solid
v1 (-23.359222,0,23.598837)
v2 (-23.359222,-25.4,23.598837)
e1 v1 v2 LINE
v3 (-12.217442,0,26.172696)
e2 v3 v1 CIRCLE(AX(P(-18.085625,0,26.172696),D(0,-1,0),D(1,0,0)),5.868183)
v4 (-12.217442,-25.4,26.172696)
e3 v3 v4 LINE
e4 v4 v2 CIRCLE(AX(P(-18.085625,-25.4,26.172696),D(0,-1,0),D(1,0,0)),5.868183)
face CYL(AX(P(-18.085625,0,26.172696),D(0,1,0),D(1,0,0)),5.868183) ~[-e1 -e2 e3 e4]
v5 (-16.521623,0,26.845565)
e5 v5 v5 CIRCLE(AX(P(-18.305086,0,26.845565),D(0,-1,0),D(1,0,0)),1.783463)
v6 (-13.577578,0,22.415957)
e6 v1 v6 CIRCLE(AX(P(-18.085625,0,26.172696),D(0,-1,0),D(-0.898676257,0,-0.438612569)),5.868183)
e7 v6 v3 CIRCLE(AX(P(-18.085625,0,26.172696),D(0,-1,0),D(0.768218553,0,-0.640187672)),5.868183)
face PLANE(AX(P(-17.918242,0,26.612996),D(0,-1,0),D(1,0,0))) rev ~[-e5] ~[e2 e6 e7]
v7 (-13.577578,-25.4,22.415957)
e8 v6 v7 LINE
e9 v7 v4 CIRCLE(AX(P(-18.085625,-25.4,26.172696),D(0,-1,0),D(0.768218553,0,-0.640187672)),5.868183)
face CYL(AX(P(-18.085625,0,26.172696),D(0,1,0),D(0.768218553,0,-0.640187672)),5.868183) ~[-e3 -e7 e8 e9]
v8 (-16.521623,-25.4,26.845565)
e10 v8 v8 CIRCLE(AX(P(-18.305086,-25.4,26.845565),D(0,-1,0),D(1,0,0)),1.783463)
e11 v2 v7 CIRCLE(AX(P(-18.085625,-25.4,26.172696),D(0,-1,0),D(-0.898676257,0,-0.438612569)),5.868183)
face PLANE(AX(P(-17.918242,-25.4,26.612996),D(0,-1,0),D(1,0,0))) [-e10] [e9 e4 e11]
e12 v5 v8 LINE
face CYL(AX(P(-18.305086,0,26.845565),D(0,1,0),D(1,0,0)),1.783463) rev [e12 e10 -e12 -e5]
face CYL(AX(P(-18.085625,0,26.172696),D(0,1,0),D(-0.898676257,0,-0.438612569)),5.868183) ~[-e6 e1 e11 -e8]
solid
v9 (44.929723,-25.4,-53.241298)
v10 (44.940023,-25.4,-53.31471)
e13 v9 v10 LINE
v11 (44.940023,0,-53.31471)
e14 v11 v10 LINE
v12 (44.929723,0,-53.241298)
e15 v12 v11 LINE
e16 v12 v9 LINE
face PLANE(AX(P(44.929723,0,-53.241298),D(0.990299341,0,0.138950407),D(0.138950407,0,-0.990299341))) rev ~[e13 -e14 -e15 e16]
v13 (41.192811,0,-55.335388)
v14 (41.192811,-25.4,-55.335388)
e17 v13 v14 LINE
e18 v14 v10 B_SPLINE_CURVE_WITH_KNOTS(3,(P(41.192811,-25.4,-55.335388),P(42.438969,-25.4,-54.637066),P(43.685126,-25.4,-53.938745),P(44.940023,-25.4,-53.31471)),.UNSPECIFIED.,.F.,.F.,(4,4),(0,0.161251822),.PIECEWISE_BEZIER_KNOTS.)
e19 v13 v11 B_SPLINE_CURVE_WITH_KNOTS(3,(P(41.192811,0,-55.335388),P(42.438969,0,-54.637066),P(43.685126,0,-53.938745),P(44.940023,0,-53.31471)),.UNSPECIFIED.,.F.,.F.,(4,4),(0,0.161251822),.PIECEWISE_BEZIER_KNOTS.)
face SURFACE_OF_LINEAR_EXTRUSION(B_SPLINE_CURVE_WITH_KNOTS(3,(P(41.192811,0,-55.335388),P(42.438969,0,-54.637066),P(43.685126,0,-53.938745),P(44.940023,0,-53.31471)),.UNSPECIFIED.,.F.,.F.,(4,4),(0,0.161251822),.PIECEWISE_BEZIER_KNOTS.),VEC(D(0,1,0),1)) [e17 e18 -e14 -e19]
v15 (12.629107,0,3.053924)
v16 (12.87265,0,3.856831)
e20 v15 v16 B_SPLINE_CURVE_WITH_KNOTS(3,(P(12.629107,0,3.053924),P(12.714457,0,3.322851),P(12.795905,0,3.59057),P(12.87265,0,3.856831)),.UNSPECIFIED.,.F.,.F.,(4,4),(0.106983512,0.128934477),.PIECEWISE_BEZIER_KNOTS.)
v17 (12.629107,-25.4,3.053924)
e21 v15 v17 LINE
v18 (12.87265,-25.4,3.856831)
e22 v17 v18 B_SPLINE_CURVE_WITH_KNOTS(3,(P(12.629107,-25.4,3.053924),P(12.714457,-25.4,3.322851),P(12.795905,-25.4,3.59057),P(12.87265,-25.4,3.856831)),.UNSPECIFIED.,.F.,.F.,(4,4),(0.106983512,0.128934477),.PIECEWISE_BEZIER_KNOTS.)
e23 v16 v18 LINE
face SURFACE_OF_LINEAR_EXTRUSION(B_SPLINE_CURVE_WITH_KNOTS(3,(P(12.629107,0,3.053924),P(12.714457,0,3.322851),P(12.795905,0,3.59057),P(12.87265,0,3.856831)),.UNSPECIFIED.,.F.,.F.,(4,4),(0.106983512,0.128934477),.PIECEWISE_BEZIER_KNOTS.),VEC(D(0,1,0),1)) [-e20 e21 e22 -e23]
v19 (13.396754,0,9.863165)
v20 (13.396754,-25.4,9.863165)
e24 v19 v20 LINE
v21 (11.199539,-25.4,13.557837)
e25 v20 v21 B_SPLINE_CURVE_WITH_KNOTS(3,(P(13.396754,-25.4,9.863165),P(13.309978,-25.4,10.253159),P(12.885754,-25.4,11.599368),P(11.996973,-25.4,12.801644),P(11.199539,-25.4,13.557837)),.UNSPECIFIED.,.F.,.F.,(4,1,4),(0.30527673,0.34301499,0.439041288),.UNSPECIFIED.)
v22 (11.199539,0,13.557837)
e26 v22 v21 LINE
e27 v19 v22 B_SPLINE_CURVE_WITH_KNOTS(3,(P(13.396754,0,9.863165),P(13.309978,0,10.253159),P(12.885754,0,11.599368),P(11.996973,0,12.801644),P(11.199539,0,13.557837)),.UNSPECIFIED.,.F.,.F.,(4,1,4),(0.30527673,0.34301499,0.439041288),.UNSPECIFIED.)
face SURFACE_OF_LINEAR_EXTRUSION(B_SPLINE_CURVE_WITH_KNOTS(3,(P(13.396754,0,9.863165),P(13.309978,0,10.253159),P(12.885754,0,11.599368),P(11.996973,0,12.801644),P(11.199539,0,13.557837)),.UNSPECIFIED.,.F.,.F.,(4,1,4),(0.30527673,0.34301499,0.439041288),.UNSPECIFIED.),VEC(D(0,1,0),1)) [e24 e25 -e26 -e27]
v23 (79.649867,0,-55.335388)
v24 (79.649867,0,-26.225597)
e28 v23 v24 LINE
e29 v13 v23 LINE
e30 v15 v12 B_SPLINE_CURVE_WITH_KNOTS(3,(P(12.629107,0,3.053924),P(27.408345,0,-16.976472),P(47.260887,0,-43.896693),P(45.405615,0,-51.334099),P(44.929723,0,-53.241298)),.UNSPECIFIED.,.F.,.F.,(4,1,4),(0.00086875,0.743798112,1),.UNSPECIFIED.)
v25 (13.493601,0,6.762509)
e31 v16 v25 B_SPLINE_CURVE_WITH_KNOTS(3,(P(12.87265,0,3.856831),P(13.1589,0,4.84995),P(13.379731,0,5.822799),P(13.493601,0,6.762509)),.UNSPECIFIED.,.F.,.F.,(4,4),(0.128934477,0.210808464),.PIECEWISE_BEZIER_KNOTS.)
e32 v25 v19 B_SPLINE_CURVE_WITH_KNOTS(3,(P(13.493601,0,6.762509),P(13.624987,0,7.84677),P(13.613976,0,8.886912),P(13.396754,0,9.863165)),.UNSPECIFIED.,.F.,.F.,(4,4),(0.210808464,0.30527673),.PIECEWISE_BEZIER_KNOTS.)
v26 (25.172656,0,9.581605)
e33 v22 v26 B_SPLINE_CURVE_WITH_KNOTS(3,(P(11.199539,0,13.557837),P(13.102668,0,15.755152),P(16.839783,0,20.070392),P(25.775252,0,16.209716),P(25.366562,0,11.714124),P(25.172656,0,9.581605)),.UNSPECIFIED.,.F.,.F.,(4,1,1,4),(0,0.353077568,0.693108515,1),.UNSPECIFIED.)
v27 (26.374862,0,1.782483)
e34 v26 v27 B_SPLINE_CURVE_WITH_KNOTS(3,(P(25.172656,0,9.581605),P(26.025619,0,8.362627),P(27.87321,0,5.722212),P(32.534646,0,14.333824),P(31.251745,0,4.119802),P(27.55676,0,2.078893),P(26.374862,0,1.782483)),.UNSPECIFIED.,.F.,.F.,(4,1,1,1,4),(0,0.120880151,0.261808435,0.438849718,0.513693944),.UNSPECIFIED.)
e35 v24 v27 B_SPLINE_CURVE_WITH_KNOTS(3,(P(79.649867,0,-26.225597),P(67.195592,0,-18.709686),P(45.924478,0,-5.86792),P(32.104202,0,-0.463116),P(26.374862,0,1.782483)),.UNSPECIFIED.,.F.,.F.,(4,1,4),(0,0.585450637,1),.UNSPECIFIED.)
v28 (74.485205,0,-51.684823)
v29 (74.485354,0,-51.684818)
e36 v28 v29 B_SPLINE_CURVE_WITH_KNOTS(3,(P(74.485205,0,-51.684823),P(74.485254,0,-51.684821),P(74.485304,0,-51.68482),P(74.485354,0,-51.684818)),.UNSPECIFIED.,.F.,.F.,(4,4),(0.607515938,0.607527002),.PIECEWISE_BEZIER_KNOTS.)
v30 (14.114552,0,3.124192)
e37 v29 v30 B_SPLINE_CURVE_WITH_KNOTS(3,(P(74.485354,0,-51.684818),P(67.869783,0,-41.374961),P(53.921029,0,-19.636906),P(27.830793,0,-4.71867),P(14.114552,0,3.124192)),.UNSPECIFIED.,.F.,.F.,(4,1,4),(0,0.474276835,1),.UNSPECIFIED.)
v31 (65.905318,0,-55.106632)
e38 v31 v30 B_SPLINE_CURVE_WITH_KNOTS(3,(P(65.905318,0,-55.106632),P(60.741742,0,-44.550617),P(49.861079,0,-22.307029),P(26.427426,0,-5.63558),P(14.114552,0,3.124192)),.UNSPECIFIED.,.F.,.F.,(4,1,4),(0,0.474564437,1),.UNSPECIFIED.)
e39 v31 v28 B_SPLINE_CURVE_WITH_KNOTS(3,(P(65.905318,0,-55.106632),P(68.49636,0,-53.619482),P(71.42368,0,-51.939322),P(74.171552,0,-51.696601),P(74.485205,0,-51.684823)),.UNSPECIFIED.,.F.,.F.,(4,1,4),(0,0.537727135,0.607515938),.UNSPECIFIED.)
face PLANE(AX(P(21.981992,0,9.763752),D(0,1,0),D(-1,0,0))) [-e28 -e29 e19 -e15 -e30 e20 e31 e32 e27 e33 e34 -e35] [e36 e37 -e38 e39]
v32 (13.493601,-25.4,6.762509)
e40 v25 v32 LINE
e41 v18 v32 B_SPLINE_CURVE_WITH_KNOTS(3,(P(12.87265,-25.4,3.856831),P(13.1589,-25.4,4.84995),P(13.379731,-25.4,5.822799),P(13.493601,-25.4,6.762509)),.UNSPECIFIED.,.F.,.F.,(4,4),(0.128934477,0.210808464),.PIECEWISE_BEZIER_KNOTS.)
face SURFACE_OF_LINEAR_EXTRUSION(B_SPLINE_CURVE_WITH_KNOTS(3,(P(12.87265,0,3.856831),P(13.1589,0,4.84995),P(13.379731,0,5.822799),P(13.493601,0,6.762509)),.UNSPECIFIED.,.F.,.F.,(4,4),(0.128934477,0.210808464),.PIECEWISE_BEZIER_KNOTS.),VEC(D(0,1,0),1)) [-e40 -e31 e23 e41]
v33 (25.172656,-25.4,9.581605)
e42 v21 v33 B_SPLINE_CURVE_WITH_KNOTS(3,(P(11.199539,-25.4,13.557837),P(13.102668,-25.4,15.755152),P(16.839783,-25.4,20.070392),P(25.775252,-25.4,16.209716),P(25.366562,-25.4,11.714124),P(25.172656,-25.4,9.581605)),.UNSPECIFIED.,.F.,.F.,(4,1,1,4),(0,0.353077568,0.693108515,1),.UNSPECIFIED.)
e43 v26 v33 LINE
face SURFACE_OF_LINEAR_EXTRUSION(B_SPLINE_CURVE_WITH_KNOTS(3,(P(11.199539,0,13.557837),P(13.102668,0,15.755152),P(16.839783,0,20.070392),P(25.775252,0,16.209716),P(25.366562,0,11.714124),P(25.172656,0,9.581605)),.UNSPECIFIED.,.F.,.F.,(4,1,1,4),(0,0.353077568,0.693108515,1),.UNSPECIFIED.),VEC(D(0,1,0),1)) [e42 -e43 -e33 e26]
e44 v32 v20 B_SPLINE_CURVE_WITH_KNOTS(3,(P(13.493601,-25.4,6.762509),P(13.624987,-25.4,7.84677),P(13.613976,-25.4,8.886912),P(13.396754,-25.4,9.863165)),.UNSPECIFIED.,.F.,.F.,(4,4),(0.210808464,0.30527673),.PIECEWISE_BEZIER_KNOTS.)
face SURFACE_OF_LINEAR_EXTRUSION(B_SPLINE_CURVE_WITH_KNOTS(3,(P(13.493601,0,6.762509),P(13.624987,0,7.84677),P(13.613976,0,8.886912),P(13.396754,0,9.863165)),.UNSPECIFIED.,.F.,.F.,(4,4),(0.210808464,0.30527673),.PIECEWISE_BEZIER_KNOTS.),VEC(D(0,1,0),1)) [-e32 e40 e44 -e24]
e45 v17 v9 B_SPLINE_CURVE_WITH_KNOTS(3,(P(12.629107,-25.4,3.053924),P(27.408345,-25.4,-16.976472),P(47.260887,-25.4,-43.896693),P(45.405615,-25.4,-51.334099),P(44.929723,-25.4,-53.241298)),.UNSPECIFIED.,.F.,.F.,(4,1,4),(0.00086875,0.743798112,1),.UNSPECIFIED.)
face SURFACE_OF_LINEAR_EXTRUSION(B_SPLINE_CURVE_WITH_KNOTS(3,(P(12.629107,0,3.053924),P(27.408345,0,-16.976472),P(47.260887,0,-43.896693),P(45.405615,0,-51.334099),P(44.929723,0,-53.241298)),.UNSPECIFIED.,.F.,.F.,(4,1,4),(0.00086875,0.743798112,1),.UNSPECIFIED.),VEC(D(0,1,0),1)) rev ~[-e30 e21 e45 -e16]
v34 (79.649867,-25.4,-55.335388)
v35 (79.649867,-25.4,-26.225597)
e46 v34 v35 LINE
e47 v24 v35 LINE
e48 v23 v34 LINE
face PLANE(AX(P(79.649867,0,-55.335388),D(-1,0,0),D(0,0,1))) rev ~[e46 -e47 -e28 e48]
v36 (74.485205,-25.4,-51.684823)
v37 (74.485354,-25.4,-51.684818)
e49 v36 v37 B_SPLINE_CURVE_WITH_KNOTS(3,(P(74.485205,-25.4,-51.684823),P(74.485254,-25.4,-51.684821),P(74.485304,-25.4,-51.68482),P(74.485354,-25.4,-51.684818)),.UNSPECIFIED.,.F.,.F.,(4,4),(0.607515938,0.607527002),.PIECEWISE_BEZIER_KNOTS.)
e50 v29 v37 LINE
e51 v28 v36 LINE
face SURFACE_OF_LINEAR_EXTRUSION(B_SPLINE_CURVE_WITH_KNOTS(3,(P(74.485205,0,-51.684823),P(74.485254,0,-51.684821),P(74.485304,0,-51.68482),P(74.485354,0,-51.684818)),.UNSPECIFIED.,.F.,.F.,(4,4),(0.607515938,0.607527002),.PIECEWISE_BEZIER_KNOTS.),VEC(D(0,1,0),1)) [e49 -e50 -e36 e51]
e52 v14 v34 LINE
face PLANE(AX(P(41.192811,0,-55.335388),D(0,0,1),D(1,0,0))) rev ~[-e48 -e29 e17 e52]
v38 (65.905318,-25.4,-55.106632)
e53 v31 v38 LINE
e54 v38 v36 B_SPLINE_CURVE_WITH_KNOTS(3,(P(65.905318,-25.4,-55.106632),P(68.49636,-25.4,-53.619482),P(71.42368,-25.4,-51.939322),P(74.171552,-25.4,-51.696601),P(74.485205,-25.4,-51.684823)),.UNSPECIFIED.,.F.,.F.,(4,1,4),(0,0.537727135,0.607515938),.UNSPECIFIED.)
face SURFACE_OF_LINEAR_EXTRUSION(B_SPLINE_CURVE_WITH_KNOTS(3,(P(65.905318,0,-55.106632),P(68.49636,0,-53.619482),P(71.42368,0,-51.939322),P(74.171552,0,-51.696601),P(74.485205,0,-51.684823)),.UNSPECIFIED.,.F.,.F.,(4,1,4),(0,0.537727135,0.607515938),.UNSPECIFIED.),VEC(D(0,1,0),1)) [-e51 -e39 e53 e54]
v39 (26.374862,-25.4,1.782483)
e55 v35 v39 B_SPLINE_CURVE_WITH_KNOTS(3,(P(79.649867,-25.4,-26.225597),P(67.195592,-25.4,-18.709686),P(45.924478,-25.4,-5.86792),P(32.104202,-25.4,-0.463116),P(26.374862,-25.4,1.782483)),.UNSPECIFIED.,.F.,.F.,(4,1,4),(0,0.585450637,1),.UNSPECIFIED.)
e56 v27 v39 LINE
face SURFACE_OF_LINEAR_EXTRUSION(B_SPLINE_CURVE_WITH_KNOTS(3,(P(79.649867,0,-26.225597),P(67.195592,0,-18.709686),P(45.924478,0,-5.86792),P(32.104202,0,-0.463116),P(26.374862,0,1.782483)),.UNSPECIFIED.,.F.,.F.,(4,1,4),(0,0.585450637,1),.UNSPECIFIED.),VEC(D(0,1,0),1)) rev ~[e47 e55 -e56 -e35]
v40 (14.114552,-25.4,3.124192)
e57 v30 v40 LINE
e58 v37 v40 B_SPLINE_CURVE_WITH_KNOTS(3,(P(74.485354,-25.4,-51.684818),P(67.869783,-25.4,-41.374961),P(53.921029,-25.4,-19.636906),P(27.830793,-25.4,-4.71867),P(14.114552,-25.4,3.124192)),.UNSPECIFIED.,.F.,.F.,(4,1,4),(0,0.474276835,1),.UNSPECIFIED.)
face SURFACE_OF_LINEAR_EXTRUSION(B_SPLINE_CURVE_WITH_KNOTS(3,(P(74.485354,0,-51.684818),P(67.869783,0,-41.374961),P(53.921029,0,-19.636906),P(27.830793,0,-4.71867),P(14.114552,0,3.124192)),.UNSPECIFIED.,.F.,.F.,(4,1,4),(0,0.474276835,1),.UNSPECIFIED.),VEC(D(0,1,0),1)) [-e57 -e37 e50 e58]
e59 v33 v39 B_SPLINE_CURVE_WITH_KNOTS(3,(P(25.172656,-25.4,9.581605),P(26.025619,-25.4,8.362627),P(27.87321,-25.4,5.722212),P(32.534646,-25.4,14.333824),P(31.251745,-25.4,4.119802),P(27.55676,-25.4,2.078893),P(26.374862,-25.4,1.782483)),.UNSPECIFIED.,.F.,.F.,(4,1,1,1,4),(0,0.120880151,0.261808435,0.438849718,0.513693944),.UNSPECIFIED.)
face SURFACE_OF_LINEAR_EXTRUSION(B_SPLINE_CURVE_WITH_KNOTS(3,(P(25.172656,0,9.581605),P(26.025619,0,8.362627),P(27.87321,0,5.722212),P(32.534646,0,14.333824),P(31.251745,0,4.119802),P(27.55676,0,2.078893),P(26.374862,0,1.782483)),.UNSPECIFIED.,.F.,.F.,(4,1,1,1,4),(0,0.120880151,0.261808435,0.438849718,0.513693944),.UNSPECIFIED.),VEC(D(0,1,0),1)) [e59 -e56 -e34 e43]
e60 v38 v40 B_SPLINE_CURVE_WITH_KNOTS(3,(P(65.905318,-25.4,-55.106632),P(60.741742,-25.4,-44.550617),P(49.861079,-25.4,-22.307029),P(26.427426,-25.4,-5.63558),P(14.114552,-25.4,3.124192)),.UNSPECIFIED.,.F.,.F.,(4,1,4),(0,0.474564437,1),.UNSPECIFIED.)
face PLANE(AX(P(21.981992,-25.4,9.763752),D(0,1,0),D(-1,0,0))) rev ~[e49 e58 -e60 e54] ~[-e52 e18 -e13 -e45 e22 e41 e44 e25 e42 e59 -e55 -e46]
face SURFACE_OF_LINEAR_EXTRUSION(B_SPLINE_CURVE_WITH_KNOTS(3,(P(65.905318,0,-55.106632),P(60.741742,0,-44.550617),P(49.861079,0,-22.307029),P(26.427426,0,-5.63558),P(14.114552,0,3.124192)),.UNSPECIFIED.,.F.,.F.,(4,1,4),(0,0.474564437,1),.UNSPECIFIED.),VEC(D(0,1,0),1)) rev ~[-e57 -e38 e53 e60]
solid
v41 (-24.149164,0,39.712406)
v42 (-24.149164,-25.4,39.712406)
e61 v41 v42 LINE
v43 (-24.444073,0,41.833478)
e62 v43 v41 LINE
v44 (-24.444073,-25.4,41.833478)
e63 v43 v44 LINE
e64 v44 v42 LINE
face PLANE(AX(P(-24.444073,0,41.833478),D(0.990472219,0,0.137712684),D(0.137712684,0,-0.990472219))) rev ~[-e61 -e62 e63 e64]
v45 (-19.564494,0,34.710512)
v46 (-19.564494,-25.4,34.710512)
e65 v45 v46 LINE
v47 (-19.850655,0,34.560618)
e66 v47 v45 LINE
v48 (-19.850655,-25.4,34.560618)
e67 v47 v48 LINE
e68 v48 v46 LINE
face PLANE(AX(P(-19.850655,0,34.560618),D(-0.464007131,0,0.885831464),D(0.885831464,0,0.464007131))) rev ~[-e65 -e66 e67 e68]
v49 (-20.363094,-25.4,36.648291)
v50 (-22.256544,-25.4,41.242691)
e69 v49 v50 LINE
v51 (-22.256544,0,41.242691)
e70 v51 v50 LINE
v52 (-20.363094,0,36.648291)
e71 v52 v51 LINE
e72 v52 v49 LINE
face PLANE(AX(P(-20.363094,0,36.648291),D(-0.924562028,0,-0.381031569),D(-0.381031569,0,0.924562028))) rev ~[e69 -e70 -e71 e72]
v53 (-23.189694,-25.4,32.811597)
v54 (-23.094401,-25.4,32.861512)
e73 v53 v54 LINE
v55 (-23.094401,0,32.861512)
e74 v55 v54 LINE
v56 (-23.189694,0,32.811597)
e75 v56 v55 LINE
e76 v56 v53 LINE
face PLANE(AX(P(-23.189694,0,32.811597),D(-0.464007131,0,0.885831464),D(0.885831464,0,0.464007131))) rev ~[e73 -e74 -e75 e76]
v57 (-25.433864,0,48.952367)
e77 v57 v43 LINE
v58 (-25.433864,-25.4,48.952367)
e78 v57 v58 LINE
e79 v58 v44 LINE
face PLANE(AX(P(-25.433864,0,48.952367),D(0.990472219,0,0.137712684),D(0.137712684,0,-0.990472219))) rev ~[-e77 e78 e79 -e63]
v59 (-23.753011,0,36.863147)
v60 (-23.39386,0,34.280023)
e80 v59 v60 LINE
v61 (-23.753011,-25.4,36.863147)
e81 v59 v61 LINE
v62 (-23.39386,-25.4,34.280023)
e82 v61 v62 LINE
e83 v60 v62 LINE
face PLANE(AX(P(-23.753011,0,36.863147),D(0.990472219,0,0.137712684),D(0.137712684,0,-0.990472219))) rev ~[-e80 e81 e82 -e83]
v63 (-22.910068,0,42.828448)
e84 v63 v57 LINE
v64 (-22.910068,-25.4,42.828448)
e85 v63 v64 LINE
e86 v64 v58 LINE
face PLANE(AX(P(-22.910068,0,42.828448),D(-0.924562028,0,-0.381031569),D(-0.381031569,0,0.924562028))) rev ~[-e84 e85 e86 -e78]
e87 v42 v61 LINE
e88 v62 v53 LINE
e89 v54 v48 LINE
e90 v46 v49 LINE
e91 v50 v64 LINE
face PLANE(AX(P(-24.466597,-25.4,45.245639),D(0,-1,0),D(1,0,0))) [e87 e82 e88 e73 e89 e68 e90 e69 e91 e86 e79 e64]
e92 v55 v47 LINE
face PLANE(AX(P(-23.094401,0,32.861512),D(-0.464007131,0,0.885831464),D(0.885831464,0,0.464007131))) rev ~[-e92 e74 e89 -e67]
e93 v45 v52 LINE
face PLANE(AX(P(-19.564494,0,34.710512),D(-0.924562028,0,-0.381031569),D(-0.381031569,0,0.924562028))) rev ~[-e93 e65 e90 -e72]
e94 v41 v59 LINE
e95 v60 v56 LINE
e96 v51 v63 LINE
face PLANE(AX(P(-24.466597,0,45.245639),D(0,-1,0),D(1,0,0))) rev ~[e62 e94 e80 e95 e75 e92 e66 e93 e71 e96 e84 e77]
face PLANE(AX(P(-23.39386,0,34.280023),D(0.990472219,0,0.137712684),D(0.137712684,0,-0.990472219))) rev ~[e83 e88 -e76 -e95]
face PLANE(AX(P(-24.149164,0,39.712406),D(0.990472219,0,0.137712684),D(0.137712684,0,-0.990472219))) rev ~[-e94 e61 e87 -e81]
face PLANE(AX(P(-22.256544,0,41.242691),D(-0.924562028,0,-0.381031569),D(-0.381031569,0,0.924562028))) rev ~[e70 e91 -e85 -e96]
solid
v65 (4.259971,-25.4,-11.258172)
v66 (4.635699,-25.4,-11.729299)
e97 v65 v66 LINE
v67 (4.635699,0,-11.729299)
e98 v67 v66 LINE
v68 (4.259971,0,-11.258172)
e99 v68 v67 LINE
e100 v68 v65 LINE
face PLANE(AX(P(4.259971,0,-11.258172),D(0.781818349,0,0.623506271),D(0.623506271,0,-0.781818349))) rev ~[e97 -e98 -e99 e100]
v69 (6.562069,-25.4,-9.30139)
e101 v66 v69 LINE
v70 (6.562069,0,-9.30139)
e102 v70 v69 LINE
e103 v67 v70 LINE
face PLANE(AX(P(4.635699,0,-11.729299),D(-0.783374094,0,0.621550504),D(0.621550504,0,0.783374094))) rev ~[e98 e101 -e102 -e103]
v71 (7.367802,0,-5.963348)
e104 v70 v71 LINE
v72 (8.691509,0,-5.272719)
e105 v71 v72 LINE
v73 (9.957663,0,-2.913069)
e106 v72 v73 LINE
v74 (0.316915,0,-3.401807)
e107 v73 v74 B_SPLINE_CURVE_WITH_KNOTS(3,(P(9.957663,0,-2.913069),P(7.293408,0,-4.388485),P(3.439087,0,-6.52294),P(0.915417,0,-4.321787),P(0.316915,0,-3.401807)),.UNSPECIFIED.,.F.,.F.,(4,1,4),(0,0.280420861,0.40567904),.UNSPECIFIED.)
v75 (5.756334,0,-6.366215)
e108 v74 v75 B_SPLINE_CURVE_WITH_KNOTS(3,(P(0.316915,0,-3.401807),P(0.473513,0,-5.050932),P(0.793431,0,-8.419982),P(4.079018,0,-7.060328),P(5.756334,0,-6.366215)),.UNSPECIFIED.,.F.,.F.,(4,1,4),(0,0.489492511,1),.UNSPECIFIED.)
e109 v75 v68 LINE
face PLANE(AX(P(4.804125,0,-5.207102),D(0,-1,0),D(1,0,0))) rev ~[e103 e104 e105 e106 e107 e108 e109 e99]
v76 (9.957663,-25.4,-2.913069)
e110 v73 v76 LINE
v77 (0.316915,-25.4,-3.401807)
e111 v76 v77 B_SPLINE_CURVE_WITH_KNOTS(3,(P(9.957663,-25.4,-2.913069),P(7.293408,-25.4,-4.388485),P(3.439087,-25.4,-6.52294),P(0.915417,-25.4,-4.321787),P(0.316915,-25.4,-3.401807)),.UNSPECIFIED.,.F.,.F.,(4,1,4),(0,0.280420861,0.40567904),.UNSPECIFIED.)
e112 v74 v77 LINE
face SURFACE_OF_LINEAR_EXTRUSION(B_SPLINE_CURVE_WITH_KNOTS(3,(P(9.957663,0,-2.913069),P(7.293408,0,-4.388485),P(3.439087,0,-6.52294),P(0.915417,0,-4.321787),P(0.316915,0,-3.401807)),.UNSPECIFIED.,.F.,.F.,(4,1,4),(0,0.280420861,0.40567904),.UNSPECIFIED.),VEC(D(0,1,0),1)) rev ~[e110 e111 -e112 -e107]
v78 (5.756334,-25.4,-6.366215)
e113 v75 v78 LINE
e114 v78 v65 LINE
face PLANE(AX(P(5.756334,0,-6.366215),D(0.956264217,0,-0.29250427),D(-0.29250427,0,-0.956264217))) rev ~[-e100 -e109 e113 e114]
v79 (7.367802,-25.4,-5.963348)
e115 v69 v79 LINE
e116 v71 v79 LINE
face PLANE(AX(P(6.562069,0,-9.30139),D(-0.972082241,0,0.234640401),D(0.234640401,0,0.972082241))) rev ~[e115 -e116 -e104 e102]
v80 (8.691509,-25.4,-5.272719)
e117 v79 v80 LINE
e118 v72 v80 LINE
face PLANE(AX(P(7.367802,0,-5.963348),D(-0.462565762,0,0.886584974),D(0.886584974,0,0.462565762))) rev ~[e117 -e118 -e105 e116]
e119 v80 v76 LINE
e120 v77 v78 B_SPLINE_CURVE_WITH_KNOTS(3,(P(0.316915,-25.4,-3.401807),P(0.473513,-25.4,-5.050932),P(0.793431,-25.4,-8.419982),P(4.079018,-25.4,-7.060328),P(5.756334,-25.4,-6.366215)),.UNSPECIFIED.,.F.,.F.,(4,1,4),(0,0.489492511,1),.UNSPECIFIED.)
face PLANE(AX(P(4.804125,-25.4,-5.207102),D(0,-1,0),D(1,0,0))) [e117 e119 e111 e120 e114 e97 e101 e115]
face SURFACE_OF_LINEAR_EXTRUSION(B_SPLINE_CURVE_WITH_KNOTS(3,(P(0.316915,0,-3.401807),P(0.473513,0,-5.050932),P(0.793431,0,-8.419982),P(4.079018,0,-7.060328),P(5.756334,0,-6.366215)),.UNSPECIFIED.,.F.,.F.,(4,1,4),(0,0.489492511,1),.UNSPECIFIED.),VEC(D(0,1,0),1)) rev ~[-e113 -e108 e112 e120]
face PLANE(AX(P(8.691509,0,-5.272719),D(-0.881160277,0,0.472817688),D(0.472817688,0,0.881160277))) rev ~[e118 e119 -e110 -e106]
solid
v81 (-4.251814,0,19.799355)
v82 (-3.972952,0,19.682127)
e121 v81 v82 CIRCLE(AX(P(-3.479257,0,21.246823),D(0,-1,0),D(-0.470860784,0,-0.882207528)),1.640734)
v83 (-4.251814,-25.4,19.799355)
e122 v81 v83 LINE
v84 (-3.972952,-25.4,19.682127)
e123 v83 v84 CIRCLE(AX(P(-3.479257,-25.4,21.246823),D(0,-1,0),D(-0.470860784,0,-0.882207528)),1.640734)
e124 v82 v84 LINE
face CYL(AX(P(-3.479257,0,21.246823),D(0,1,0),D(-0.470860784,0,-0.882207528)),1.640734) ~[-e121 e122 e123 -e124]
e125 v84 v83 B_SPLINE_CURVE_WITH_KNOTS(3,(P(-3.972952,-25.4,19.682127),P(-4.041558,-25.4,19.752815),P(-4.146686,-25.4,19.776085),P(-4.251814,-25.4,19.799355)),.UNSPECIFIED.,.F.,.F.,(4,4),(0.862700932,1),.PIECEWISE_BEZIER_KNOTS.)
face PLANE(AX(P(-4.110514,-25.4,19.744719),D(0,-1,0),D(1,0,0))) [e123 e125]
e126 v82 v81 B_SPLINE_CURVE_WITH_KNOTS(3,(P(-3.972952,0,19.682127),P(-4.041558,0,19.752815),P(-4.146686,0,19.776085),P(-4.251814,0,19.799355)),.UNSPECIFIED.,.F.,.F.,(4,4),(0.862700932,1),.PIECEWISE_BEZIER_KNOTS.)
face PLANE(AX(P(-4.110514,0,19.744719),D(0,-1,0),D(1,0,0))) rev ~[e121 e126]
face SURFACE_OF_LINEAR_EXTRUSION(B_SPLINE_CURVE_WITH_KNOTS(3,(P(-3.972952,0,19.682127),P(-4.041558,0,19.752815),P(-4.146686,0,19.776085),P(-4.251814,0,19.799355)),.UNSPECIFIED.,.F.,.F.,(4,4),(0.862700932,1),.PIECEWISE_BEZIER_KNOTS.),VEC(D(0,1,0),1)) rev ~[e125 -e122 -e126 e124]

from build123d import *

# Parameters (mm, degrees)
F1_DEPTH = 25.4
F0_R     = 1.7834628767


with BuildPart() as f1:
    # F0 (on Front) → F1 (new body)
    with BuildSketch(Plane.XZ):
        Polygon((-22.9100676942, 42.8284476999), (-25.4338644445, 48.9523671567), (-24.4440726353, 41.833478334), align=None)
        Polygon((-22.9100676942, 42.8284476999), (-24.4440726353, 41.833478334), (-24.1491642219, 39.7124058128), (-22.2565439392, 41.242691304), align=None)
        Polygon((-22.2565439392, 41.242691304), (-24.1491642219, 39.7124058128), (-23.7530106851, 36.8631470503), (-21.2160514777, 38.7179665895), align=None)
        Polygon((-21.2160514777, 38.7179665895), (-23.7530106851, 36.8631470503), (-23.3938598176, 34.2800229301), (-20.3630941983, 36.6482905434), align=None)
        with BuildLine():
            Line((-20.3630941983, 36.6482905434), (-23.3938598176, 34.2800229301))
            Line((-23.3938598176, 34.2800229301), (-23.1896936893, 32.8115969896))
            Line((-23.1896936893, 32.8115969896), (-23.0944005255, 32.861512475))
            ThreePointArc((-23.0944005255, 32.861512475), (-21.536076112, 33.8323842773), (-19.8506553661, 34.5606177173))
            Line((-19.8506553661, 34.5606177173), (-19.5644944906, 34.7105115652))
            Line((-19.5644944906, 34.7105115652), (-20.3630941983, 36.6482905434))
        make_face()
        with BuildLine():
            ThreePointArc((-19.8506553661, 34.5606177173), (-21.536076112, 33.8323842773), (-23.0944005255, 32.861512475))
            Line((-23.0944005255, 32.861512475), (-19.8506553661, 34.5606177173))
        make_face()
    extrude(amount=F1_DEPTH)


with BuildPart() as f1b:
    # F0 (on Front) → F1, piece 2 (new body)
    with BuildSketch(Plane.XZ):
        with BuildLine():
            Line((7.3678023182, -5.9633478522), (8.6915092543, -5.2727186121))
            Line((8.6915092543, -5.2727186121), (9.9576627836, -2.9130687471))
            add(Edge.make_bspline(
                [(9.9576627836, -2.9130687471), (7.2934083331, -4.3884854622), (3.4390867087, -6.5229402058), (0.9154172603, -4.321786708), (0.3169151371, -3.4018067018)],
                knots=[0, 0, 0, 0, 0.2804208607, 0.4056790399, 0.4056790399, 0.4056790399, 0.4056790399], degree=3))
            add(Edge.make_bspline(
                [(0.3169151371, -3.4018067018), (0.4735126403, -5.0509317641), (0.7934307177, -8.4199824116), (4.079017662, -7.0603283138), (5.7563344017, -6.3662147149)],
                knots=[0, 0, 0, 0, 0.4894925113, 1, 1, 1, 1], degree=3))
            Line((5.7563344017, -6.3662147149), (7.3678023182, -5.9633478522))
        make_face()
        Polygon((6.5620685928, -9.3013895676), (7.3678023182, -5.9633478522), (5.7563344017, -6.3662147149), (4.2599714361, -11.2581718713), (4.6356988207, -11.7292987501), align=None)
    extrude(amount=F1_DEPTH)


with BuildPart() as f1c:
    # F0 (on Front) → F1, piece 3 (new body)
    with BuildSketch(Plane.XZ):
        with BuildLine():
            add(Edge.make_bspline(
                [(11.1995394877, 13.5578365372), (13.102668093, 15.7551518419), (16.8397830976, 20.0703916826), (25.7752520583, 16.2097157192), (25.3665615723, 11.7141237547), (25.172656402, 9.5816049725)],
                knots=[0, 0, 0, 0, 0.3530775685, 0.6931085154, 1, 1, 1, 1], degree=3))
            add(Edge.make_bspline(
                [(13.3967538173, 9.8631651647), (13.3099779159, 10.2531594082), (12.8857542425, 11.599367998), (11.9969733927, 12.8016439042), (11.1995394877, 13.5578365372)],
                knots=[0.3052767295, 0.3052767295, 0.3052767295, 0.3052767295, 0.3430149898, 0.4390412883, 0.4390412883, 0.4390412883, 0.4390412883], degree=3))
            add(Edge.make_bspline(
                [(26.3748617337, 1.7824834694), (24.4786632438, 1.3069342857), (19.4102807977, 2.0805751093), (16.182781783, 6.7144995217), (15.164352776, 10.8239090423), (13.8978703904, 10.1356632019), (13.3967538173, 9.8631651647)],
                knots=[0.5136939443, 0.5136939443, 0.5136939443, 0.5136939443, 0.6337715162, 0.8018048617, 0.9214431496, 1, 1, 1, 1], degree=3))
            add(Edge.make_bspline(
                [(25.172656402, 9.5816049725), (26.0256189076, 8.3626269027), (27.8732100394, 5.7222122761), (32.53464609, 14.3338237837), (31.2517450854, 4.1198016009), (27.5567602879, 2.078892783), (26.3748617337, 1.7824834694)],
                knots=[0, 0, 0, 0, 0.1208801505, 0.2618084346, 0.4388497182, 0.5136939443, 0.5136939443, 0.5136939443, 0.5136939443], degree=3))
        make_face()
        with BuildLine():
            add(Edge.make_bspline(
                [(26.3748617337, 1.7824834694), (24.4786632438, 1.3069342857), (19.4102807977, 2.0805751093), (16.182781783, 6.7144995217), (15.164352776, 10.8239090423), (13.8978703904, 10.1356632019), (13.3967538173, 9.8631651647)],
                knots=[0.5136939443, 0.5136939443, 0.5136939443, 0.5136939443, 0.6337715162, 0.8018048617, 0.9214431496, 1, 1, 1, 1], degree=3))
            add(Edge.make_bspline(
                [(13.4936010892, 6.7625090508), (13.6249872982, 7.8467701656), (13.6139755122, 8.8869124365), (13.3967538173, 9.8631651647)],
                knots=[0.2108084645, 0.2108084645, 0.2108084645, 0.2108084645, 0.3052767295, 0.3052767295, 0.3052767295, 0.3052767295], degree=3))
            add(Edge.make_bspline(
                [(23.6649847588, 0.4353575829), (20.3023370373, 2.540814331), (16.8979690633, 4.6516616909), (13.4936010892, 6.7625090508)],
                knots=[0.8849952308, 0.8849952308, 0.8849952308, 0.8849952308, 1, 1, 1, 1], degree=3))
            add(Edge.make_bspline(
                [(79.6498671174, -32.3402956128), (70.7382485823, -25.6757973438), (53.0737396883, -12.4655046811), (33.4090025187, -3.8390916864), (23.6649847588, 0.4353575829)],
                knots=[0, 0, 0, 0, 0.5044928556, 1, 1, 1, 1], degree=3))
            Line((79.6498671174, -32.3402956128), (79.6498671174, -26.2255966663))
            add(Edge.make_bspline(
                [(79.6498671174, -26.2255966663), (67.195591653, -18.7096857526), (45.9244782641, -5.8679201366), (32.1042021144, -0.4631162389), (26.3748617337, 1.7824834694)],
                knots=[0, 0, 0, 0, 0.5854506367, 1, 1, 1, 1], degree=3))
        make_face()
        with BuildLine():
            add(Edge.make_bspline(
                [(23.6649847588, 0.4353575829), (20.3023370373, 2.540814331), (16.8979690633, 4.6516616909), (13.4936010892, 6.7625090508)],
                knots=[0.8849952308, 0.8849952308, 0.8849952308, 0.8849952308, 1, 1, 1, 1], degree=3))
            add(Edge.make_bspline(
                [(12.8726503511, 3.8568314283), (13.1589002344, 4.8499495328), (13.3797309677, 5.8227989722), (13.4936010892, 6.7625090508)],
                knots=[0.1289344772, 0.1289344772, 0.1289344772, 0.1289344772, 0.2108084645, 0.2108084645, 0.2108084645, 0.2108084645], degree=3))
            Line((12.8726503511, 3.8568314283), (14.1145518273, 3.1241918572))
            add(Edge.make_bspline(
                [(74.4853538034, -51.6848177491), (67.8697829303, -41.3749614778), (53.9210289847, -19.6369057455), (27.830793174, -4.7186701674), (14.1145518273, 3.1241918572)],
                knots=[0, 0, 0, 0, 0.474276835, 1, 1, 1, 1], degree=3))
            add(Edge.make_bspline(
                [(74.4853538034, -51.6848177491), (75.2532722885, -50.5569895458), (76.7194981017, -48.4351104873), (78.7055638503, -47.4397782041), (79.6498671174, -46.9699688256)],
                knots=[0, 0, 0, 0, 0.5257876641, 1, 1, 1, 1], degree=3))
            Line((79.6498671174, -46.9699688256), (79.6498671174, -45.374263078))
            add(Edge.make_bspline(
                [(79.6498671174, -45.374263078), (73.9639050001, -38.5749047223), (61.908256077, -24.1585798245), (37.3370442092, -8.1251376623), (23.6649847588, 0.4353575829)],
                knots=[0, 0, 0, 0, 0.417401783, 0.8849952308, 0.8849952308, 0.8849952308, 0.8849952308], degree=3))
        make_face()
        with BuildLine():
            Line((14.1145518273, 3.1241918572), (12.8726503511, 3.8568314283))
            add(Edge.make_bspline(
                [(12.629107162, 3.0539237688), (12.7144569126, 3.3228512302), (12.7959048356, 3.5905697973), (12.8726503511, 3.8568314283)],
                knots=[0.1069835115, 0.1069835115, 0.1069835115, 0.1069835115, 0.1289344772, 0.1289344772, 0.1289344772, 0.1289344772], degree=3))
            add(Edge.make_bspline(
                [(12.629107162, 3.0539237688), (27.4083446688, -16.9764718508), (47.2608873564, -43.8966934003), (45.4056145875, -51.3340987373), (44.9297228388, -53.2412977891)],
                knots=[0.0008687497, 0.0008687497, 0.0008687497, 0.0008687497, 0.743798112, 1, 1, 1, 1], degree=3))
            Line((44.9297228388, -53.2412977891), (44.9400234568, -53.3147102781))
            add(Edge.make_bspline(
                [(44.9400234568, -53.3147102781), (47.4482459083, -52.0674234641), (50.7039411921, -50.8505914393), (54.1312274801, -51.0922982039), (54.888123322, -51.2028494127)],
                knots=[0.1612518221, 0.1612518221, 0.1612518221, 0.1612518221, 0.4835534699, 0.5738587509, 0.5738587509, 0.5738587509, 0.5738587509], degree=3))
            add(Edge.make_bspline(
                [(14.1145518273, 3.1241918572), (23.6649847588, -6.2222828756), (41.6151411246, -23.7840879693), (50.6549721415, -42.468973353), (54.888123322, -51.2028494127)],
                knots=[0, 0, 0, 0, 0.5320886171, 1, 1, 1, 1], degree=3))
        make_face()
        with BuildLine():
            add(Edge.make_bspline(
                [(79.6498671174, -32.3402956128), (70.7382485823, -25.6757973438), (53.0737396883, -12.4655046811), (33.4090025187, -3.8390916864), (23.6649847588, 0.4353575829)],
                knots=[0, 0, 0, 0, 0.5044928556, 1, 1, 1, 1], degree=3))
            add(Edge.make_bspline(
                [(79.6498671174, -45.374263078), (73.9639050001, -38.5749047223), (61.908256077, -24.1585798245), (37.3370442092, -8.1251376623), (23.6649847588, 0.4353575829)],
                knots=[0, 0, 0, 0, 0.417401783, 0.8849952308, 0.8849952308, 0.8849952308, 0.8849952308], degree=3))
            Line((79.6498671174, -45.374263078), (79.6498671174, -32.3402956128))
        make_face()
        with BuildLine():
            add(Edge.make_bspline(
                [(65.9053176641, -55.1066324115), (60.7417418721, -44.5506167606), (49.8610787063, -22.3070291197), (26.4274262129, -5.6355802577), (14.1145518273, 3.1241918572)],
                knots=[0, 0, 0, 0, 0.4745644372, 1, 1, 1, 1], degree=3))
            add(Edge.make_bspline(
                [(14.1145518273, 3.1241918572), (23.6649847588, -6.2222828756), (41.6151411246, -23.7840879693), (50.6549721415, -42.468973353), (54.888123322, -51.2028494127)],
                knots=[0, 0, 0, 0, 0.5320886171, 1, 1, 1, 1], degree=3))
            add(Edge.make_bspline(
                [(54.888123322, -51.2028494127), (54.9170193728, -51.2070699318), (54.9459253088, -51.211374475), (54.9748410499, -51.2157623627)],
                knots=[0.5738587509, 0.5738587509, 0.5738587509, 0.5738587509, 0.5773063402, 0.5773063402, 0.5773063402, 0.5773063402], degree=3))
            add(Edge.make_bspline(
                [(54.9748410499, -51.2157623627), (58.5200720553, -51.753741842), (62.2126948597, -53.5445647148), (65.9053176641, -55.3353875875)],
                knots=[0.5773063402, 0.5773063402, 0.5773063402, 0.5773063402, 1, 1, 1, 1], degree=3))
            Line((65.9053176641, -55.3353875875), (65.9053176641, -55.1066324115))
        make_face()
        with BuildLine():
            add(Edge.make_bspline(
                [(54.888123322, -51.2028494127), (54.9170193728, -51.2070699318), (54.9459253088, -51.211374475), (54.9748410499, -51.2157623627)],
                knots=[0.5738587509, 0.5738587509, 0.5738587509, 0.5738587509, 0.5773063402, 0.5773063402, 0.5773063402, 0.5773063402], degree=3))
            add(Edge.make_bspline(
                [(44.9400234568, -53.3147102781), (47.4482459083, -52.0674234641), (50.7039411921, -50.8505914393), (54.1312274801, -51.0922982039), (54.888123322, -51.2028494127)],
                knots=[0.1612518221, 0.1612518221, 0.1612518221, 0.1612518221, 0.4835534699, 0.5738587509, 0.5738587509, 0.5738587509, 0.5738587509], degree=3))
            add(Edge.make_bspline(
                [(41.1928109825, -55.3353875875), (42.4389686118, -54.6370660645), (43.6851262412, -53.9387445415), (44.9400234568, -53.3147102781)],
                knots=[0, 0, 0, 0, 0.1612518221, 0.1612518221, 0.1612518221, 0.1612518221], degree=3))
            Line((41.1928109825, -55.3353875875), (65.9053176641, -55.3353875875))
            add(Edge.make_bspline(
                [(54.9748410499, -51.2157623627), (58.5200720553, -51.753741842), (62.2126948597, -53.5445647148), (65.9053176641, -55.3353875875)],
                knots=[0.5773063402, 0.5773063402, 0.5773063402, 0.5773063402, 1, 1, 1, 1], degree=3))
        make_face()
        with BuildLine():
            add(Edge.make_bspline(
                [(65.9053176641, -55.1066324115), (68.4963599489, -53.6194818578), (71.4236801138, -51.939321781), (74.171551606, -51.696600774), (74.4852046249, -51.6848233494)],
                knots=[0, 0, 0, 0, 0.5377271346, 0.6075159382, 0.6075159382, 0.6075159382, 0.6075159382], degree=3))
            Line((65.9053176641, -55.1066324115), (65.9053176641, -55.3353875875))
            Line((65.9053176641, -55.3353875875), (79.6498671174, -55.3353875875))
            Line((79.6498671174, -55.3353875875), (79.6498671174, -52.5048784912))
            add(Edge.make_bspline(
                [(74.4858599757, -51.6847987648), (76.2495736403, -51.6186982522), (77.9497203789, -52.0617883717), (79.6498671174, -52.5048784912)],
                knots=[0.6075645443, 0.6075645443, 0.6075645443, 0.6075645443, 1, 1, 1, 1], degree=3))
            add(Edge.make_bspline(
                [(74.4853538034, -51.6848177491), (74.4855225281, -51.6848114163), (74.4856912522, -51.6848050882), (74.4858599757, -51.6847987648)],
                knots=[0.6075270024, 0.6075270024, 0.6075270024, 0.6075270024, 0.6075645443, 0.6075645443, 0.6075645443, 0.6075645443], degree=3))
            add(Edge.make_bspline(
                [(74.4852046249, -51.6848233494), (74.4852543511, -51.6848214822), (74.4853040773, -51.6848196154), (74.4853538034, -51.6848177491)],
                knots=[0.6075159382, 0.6075159382, 0.6075159382, 0.6075159382, 0.6075270024, 0.6075270024, 0.6075270024, 0.6075270024], degree=3))
        make_face()
        with BuildLine():
            add(Edge.make_bspline(
                [(74.4853538034, -51.6848177491), (75.2532722885, -50.5569895458), (76.7194981017, -48.4351104873), (78.7055638503, -47.4397782041), (79.6498671174, -46.9699688256)],
                knots=[0, 0, 0, 0, 0.5257876641, 1, 1, 1, 1], degree=3))
            add(Edge.make_bspline(
                [(74.4853538034, -51.6848177491), (74.4855225281, -51.6848114163), (74.4856912522, -51.6848050882), (74.4858599757, -51.6847987648)],
                knots=[0.6075270024, 0.6075270024, 0.6075270024, 0.6075270024, 0.6075645443, 0.6075645443, 0.6075645443, 0.6075645443], degree=3))
            add(Edge.make_bspline(
                [(74.4858599757, -51.6847987648), (76.2495736403, -51.6186982522), (77.9497203789, -52.0617883717), (79.6498671174, -52.5048784912)],
                knots=[0.6075645443, 0.6075645443, 0.6075645443, 0.6075645443, 1, 1, 1, 1], degree=3))
            Line((79.6498671174, -52.5048784912), (79.6498671174, -46.9699688256))
        make_face()
    extrude(amount=F1_DEPTH)


with BuildPart() as f1d:
    # F0 (on Front) → F1, piece 4 (new body)
    with BuildSketch(Plane.XZ):
        with BuildLine():
            ThreePointArc((-4.2518144473, 19.7993554175), (-4.1150908493, 19.7343010507), (-3.9729524271, 19.6821274765))
            add(Edge.make_bspline(
                [(-3.9729524271, 19.6821274765), (-4.0415578717, 19.7528149264), (-4.1466861595, 19.7760851719), (-4.2518144473, 19.7993554175)],
                knots=[0.862700932, 0.862700932, 0.862700932, 0.862700932, 1, 1, 1, 1], degree=3))
        make_face()
    extrude(amount=F1_DEPTH)


with BuildPart() as f1e:
    # F0 (on Front) → F1, piece 5 (new body)
    with BuildSketch(Plane.XZ):
        with BuildLine():
            ThreePointArc((-13.5775777234, 22.4159570644), (-12.5679432875, 24.1750060763), (-12.2174417016, 26.1726956815))
            ThreePointArc((-12.2174417016, 26.1726956815), (-19.4064470033, 31.8903004933), (-23.3592220436, 23.5988367206))
            Line((-23.3592220436, 23.5988367206), (-13.5775777234, 22.4159570644))
        make_face()
        with Locations((-18.3050855994, 26.8455650657)):
            Circle(F0_R, mode=Mode.SUBTRACT)
        with BuildLine():
            Line((-13.5775777234, 22.4159570644), (-23.3592220436, 23.5988367206))
            ThreePointArc((-23.3592220436, 23.5988367206), (-18.7901231875, 20.3469547136), (-13.5775777234, 22.4159570644))
        make_face()
    extrude(amount=F1_DEPTH)


solid = Compound([f1.part, f1b.part, f1c.part, f1d.part, f1e.part])
